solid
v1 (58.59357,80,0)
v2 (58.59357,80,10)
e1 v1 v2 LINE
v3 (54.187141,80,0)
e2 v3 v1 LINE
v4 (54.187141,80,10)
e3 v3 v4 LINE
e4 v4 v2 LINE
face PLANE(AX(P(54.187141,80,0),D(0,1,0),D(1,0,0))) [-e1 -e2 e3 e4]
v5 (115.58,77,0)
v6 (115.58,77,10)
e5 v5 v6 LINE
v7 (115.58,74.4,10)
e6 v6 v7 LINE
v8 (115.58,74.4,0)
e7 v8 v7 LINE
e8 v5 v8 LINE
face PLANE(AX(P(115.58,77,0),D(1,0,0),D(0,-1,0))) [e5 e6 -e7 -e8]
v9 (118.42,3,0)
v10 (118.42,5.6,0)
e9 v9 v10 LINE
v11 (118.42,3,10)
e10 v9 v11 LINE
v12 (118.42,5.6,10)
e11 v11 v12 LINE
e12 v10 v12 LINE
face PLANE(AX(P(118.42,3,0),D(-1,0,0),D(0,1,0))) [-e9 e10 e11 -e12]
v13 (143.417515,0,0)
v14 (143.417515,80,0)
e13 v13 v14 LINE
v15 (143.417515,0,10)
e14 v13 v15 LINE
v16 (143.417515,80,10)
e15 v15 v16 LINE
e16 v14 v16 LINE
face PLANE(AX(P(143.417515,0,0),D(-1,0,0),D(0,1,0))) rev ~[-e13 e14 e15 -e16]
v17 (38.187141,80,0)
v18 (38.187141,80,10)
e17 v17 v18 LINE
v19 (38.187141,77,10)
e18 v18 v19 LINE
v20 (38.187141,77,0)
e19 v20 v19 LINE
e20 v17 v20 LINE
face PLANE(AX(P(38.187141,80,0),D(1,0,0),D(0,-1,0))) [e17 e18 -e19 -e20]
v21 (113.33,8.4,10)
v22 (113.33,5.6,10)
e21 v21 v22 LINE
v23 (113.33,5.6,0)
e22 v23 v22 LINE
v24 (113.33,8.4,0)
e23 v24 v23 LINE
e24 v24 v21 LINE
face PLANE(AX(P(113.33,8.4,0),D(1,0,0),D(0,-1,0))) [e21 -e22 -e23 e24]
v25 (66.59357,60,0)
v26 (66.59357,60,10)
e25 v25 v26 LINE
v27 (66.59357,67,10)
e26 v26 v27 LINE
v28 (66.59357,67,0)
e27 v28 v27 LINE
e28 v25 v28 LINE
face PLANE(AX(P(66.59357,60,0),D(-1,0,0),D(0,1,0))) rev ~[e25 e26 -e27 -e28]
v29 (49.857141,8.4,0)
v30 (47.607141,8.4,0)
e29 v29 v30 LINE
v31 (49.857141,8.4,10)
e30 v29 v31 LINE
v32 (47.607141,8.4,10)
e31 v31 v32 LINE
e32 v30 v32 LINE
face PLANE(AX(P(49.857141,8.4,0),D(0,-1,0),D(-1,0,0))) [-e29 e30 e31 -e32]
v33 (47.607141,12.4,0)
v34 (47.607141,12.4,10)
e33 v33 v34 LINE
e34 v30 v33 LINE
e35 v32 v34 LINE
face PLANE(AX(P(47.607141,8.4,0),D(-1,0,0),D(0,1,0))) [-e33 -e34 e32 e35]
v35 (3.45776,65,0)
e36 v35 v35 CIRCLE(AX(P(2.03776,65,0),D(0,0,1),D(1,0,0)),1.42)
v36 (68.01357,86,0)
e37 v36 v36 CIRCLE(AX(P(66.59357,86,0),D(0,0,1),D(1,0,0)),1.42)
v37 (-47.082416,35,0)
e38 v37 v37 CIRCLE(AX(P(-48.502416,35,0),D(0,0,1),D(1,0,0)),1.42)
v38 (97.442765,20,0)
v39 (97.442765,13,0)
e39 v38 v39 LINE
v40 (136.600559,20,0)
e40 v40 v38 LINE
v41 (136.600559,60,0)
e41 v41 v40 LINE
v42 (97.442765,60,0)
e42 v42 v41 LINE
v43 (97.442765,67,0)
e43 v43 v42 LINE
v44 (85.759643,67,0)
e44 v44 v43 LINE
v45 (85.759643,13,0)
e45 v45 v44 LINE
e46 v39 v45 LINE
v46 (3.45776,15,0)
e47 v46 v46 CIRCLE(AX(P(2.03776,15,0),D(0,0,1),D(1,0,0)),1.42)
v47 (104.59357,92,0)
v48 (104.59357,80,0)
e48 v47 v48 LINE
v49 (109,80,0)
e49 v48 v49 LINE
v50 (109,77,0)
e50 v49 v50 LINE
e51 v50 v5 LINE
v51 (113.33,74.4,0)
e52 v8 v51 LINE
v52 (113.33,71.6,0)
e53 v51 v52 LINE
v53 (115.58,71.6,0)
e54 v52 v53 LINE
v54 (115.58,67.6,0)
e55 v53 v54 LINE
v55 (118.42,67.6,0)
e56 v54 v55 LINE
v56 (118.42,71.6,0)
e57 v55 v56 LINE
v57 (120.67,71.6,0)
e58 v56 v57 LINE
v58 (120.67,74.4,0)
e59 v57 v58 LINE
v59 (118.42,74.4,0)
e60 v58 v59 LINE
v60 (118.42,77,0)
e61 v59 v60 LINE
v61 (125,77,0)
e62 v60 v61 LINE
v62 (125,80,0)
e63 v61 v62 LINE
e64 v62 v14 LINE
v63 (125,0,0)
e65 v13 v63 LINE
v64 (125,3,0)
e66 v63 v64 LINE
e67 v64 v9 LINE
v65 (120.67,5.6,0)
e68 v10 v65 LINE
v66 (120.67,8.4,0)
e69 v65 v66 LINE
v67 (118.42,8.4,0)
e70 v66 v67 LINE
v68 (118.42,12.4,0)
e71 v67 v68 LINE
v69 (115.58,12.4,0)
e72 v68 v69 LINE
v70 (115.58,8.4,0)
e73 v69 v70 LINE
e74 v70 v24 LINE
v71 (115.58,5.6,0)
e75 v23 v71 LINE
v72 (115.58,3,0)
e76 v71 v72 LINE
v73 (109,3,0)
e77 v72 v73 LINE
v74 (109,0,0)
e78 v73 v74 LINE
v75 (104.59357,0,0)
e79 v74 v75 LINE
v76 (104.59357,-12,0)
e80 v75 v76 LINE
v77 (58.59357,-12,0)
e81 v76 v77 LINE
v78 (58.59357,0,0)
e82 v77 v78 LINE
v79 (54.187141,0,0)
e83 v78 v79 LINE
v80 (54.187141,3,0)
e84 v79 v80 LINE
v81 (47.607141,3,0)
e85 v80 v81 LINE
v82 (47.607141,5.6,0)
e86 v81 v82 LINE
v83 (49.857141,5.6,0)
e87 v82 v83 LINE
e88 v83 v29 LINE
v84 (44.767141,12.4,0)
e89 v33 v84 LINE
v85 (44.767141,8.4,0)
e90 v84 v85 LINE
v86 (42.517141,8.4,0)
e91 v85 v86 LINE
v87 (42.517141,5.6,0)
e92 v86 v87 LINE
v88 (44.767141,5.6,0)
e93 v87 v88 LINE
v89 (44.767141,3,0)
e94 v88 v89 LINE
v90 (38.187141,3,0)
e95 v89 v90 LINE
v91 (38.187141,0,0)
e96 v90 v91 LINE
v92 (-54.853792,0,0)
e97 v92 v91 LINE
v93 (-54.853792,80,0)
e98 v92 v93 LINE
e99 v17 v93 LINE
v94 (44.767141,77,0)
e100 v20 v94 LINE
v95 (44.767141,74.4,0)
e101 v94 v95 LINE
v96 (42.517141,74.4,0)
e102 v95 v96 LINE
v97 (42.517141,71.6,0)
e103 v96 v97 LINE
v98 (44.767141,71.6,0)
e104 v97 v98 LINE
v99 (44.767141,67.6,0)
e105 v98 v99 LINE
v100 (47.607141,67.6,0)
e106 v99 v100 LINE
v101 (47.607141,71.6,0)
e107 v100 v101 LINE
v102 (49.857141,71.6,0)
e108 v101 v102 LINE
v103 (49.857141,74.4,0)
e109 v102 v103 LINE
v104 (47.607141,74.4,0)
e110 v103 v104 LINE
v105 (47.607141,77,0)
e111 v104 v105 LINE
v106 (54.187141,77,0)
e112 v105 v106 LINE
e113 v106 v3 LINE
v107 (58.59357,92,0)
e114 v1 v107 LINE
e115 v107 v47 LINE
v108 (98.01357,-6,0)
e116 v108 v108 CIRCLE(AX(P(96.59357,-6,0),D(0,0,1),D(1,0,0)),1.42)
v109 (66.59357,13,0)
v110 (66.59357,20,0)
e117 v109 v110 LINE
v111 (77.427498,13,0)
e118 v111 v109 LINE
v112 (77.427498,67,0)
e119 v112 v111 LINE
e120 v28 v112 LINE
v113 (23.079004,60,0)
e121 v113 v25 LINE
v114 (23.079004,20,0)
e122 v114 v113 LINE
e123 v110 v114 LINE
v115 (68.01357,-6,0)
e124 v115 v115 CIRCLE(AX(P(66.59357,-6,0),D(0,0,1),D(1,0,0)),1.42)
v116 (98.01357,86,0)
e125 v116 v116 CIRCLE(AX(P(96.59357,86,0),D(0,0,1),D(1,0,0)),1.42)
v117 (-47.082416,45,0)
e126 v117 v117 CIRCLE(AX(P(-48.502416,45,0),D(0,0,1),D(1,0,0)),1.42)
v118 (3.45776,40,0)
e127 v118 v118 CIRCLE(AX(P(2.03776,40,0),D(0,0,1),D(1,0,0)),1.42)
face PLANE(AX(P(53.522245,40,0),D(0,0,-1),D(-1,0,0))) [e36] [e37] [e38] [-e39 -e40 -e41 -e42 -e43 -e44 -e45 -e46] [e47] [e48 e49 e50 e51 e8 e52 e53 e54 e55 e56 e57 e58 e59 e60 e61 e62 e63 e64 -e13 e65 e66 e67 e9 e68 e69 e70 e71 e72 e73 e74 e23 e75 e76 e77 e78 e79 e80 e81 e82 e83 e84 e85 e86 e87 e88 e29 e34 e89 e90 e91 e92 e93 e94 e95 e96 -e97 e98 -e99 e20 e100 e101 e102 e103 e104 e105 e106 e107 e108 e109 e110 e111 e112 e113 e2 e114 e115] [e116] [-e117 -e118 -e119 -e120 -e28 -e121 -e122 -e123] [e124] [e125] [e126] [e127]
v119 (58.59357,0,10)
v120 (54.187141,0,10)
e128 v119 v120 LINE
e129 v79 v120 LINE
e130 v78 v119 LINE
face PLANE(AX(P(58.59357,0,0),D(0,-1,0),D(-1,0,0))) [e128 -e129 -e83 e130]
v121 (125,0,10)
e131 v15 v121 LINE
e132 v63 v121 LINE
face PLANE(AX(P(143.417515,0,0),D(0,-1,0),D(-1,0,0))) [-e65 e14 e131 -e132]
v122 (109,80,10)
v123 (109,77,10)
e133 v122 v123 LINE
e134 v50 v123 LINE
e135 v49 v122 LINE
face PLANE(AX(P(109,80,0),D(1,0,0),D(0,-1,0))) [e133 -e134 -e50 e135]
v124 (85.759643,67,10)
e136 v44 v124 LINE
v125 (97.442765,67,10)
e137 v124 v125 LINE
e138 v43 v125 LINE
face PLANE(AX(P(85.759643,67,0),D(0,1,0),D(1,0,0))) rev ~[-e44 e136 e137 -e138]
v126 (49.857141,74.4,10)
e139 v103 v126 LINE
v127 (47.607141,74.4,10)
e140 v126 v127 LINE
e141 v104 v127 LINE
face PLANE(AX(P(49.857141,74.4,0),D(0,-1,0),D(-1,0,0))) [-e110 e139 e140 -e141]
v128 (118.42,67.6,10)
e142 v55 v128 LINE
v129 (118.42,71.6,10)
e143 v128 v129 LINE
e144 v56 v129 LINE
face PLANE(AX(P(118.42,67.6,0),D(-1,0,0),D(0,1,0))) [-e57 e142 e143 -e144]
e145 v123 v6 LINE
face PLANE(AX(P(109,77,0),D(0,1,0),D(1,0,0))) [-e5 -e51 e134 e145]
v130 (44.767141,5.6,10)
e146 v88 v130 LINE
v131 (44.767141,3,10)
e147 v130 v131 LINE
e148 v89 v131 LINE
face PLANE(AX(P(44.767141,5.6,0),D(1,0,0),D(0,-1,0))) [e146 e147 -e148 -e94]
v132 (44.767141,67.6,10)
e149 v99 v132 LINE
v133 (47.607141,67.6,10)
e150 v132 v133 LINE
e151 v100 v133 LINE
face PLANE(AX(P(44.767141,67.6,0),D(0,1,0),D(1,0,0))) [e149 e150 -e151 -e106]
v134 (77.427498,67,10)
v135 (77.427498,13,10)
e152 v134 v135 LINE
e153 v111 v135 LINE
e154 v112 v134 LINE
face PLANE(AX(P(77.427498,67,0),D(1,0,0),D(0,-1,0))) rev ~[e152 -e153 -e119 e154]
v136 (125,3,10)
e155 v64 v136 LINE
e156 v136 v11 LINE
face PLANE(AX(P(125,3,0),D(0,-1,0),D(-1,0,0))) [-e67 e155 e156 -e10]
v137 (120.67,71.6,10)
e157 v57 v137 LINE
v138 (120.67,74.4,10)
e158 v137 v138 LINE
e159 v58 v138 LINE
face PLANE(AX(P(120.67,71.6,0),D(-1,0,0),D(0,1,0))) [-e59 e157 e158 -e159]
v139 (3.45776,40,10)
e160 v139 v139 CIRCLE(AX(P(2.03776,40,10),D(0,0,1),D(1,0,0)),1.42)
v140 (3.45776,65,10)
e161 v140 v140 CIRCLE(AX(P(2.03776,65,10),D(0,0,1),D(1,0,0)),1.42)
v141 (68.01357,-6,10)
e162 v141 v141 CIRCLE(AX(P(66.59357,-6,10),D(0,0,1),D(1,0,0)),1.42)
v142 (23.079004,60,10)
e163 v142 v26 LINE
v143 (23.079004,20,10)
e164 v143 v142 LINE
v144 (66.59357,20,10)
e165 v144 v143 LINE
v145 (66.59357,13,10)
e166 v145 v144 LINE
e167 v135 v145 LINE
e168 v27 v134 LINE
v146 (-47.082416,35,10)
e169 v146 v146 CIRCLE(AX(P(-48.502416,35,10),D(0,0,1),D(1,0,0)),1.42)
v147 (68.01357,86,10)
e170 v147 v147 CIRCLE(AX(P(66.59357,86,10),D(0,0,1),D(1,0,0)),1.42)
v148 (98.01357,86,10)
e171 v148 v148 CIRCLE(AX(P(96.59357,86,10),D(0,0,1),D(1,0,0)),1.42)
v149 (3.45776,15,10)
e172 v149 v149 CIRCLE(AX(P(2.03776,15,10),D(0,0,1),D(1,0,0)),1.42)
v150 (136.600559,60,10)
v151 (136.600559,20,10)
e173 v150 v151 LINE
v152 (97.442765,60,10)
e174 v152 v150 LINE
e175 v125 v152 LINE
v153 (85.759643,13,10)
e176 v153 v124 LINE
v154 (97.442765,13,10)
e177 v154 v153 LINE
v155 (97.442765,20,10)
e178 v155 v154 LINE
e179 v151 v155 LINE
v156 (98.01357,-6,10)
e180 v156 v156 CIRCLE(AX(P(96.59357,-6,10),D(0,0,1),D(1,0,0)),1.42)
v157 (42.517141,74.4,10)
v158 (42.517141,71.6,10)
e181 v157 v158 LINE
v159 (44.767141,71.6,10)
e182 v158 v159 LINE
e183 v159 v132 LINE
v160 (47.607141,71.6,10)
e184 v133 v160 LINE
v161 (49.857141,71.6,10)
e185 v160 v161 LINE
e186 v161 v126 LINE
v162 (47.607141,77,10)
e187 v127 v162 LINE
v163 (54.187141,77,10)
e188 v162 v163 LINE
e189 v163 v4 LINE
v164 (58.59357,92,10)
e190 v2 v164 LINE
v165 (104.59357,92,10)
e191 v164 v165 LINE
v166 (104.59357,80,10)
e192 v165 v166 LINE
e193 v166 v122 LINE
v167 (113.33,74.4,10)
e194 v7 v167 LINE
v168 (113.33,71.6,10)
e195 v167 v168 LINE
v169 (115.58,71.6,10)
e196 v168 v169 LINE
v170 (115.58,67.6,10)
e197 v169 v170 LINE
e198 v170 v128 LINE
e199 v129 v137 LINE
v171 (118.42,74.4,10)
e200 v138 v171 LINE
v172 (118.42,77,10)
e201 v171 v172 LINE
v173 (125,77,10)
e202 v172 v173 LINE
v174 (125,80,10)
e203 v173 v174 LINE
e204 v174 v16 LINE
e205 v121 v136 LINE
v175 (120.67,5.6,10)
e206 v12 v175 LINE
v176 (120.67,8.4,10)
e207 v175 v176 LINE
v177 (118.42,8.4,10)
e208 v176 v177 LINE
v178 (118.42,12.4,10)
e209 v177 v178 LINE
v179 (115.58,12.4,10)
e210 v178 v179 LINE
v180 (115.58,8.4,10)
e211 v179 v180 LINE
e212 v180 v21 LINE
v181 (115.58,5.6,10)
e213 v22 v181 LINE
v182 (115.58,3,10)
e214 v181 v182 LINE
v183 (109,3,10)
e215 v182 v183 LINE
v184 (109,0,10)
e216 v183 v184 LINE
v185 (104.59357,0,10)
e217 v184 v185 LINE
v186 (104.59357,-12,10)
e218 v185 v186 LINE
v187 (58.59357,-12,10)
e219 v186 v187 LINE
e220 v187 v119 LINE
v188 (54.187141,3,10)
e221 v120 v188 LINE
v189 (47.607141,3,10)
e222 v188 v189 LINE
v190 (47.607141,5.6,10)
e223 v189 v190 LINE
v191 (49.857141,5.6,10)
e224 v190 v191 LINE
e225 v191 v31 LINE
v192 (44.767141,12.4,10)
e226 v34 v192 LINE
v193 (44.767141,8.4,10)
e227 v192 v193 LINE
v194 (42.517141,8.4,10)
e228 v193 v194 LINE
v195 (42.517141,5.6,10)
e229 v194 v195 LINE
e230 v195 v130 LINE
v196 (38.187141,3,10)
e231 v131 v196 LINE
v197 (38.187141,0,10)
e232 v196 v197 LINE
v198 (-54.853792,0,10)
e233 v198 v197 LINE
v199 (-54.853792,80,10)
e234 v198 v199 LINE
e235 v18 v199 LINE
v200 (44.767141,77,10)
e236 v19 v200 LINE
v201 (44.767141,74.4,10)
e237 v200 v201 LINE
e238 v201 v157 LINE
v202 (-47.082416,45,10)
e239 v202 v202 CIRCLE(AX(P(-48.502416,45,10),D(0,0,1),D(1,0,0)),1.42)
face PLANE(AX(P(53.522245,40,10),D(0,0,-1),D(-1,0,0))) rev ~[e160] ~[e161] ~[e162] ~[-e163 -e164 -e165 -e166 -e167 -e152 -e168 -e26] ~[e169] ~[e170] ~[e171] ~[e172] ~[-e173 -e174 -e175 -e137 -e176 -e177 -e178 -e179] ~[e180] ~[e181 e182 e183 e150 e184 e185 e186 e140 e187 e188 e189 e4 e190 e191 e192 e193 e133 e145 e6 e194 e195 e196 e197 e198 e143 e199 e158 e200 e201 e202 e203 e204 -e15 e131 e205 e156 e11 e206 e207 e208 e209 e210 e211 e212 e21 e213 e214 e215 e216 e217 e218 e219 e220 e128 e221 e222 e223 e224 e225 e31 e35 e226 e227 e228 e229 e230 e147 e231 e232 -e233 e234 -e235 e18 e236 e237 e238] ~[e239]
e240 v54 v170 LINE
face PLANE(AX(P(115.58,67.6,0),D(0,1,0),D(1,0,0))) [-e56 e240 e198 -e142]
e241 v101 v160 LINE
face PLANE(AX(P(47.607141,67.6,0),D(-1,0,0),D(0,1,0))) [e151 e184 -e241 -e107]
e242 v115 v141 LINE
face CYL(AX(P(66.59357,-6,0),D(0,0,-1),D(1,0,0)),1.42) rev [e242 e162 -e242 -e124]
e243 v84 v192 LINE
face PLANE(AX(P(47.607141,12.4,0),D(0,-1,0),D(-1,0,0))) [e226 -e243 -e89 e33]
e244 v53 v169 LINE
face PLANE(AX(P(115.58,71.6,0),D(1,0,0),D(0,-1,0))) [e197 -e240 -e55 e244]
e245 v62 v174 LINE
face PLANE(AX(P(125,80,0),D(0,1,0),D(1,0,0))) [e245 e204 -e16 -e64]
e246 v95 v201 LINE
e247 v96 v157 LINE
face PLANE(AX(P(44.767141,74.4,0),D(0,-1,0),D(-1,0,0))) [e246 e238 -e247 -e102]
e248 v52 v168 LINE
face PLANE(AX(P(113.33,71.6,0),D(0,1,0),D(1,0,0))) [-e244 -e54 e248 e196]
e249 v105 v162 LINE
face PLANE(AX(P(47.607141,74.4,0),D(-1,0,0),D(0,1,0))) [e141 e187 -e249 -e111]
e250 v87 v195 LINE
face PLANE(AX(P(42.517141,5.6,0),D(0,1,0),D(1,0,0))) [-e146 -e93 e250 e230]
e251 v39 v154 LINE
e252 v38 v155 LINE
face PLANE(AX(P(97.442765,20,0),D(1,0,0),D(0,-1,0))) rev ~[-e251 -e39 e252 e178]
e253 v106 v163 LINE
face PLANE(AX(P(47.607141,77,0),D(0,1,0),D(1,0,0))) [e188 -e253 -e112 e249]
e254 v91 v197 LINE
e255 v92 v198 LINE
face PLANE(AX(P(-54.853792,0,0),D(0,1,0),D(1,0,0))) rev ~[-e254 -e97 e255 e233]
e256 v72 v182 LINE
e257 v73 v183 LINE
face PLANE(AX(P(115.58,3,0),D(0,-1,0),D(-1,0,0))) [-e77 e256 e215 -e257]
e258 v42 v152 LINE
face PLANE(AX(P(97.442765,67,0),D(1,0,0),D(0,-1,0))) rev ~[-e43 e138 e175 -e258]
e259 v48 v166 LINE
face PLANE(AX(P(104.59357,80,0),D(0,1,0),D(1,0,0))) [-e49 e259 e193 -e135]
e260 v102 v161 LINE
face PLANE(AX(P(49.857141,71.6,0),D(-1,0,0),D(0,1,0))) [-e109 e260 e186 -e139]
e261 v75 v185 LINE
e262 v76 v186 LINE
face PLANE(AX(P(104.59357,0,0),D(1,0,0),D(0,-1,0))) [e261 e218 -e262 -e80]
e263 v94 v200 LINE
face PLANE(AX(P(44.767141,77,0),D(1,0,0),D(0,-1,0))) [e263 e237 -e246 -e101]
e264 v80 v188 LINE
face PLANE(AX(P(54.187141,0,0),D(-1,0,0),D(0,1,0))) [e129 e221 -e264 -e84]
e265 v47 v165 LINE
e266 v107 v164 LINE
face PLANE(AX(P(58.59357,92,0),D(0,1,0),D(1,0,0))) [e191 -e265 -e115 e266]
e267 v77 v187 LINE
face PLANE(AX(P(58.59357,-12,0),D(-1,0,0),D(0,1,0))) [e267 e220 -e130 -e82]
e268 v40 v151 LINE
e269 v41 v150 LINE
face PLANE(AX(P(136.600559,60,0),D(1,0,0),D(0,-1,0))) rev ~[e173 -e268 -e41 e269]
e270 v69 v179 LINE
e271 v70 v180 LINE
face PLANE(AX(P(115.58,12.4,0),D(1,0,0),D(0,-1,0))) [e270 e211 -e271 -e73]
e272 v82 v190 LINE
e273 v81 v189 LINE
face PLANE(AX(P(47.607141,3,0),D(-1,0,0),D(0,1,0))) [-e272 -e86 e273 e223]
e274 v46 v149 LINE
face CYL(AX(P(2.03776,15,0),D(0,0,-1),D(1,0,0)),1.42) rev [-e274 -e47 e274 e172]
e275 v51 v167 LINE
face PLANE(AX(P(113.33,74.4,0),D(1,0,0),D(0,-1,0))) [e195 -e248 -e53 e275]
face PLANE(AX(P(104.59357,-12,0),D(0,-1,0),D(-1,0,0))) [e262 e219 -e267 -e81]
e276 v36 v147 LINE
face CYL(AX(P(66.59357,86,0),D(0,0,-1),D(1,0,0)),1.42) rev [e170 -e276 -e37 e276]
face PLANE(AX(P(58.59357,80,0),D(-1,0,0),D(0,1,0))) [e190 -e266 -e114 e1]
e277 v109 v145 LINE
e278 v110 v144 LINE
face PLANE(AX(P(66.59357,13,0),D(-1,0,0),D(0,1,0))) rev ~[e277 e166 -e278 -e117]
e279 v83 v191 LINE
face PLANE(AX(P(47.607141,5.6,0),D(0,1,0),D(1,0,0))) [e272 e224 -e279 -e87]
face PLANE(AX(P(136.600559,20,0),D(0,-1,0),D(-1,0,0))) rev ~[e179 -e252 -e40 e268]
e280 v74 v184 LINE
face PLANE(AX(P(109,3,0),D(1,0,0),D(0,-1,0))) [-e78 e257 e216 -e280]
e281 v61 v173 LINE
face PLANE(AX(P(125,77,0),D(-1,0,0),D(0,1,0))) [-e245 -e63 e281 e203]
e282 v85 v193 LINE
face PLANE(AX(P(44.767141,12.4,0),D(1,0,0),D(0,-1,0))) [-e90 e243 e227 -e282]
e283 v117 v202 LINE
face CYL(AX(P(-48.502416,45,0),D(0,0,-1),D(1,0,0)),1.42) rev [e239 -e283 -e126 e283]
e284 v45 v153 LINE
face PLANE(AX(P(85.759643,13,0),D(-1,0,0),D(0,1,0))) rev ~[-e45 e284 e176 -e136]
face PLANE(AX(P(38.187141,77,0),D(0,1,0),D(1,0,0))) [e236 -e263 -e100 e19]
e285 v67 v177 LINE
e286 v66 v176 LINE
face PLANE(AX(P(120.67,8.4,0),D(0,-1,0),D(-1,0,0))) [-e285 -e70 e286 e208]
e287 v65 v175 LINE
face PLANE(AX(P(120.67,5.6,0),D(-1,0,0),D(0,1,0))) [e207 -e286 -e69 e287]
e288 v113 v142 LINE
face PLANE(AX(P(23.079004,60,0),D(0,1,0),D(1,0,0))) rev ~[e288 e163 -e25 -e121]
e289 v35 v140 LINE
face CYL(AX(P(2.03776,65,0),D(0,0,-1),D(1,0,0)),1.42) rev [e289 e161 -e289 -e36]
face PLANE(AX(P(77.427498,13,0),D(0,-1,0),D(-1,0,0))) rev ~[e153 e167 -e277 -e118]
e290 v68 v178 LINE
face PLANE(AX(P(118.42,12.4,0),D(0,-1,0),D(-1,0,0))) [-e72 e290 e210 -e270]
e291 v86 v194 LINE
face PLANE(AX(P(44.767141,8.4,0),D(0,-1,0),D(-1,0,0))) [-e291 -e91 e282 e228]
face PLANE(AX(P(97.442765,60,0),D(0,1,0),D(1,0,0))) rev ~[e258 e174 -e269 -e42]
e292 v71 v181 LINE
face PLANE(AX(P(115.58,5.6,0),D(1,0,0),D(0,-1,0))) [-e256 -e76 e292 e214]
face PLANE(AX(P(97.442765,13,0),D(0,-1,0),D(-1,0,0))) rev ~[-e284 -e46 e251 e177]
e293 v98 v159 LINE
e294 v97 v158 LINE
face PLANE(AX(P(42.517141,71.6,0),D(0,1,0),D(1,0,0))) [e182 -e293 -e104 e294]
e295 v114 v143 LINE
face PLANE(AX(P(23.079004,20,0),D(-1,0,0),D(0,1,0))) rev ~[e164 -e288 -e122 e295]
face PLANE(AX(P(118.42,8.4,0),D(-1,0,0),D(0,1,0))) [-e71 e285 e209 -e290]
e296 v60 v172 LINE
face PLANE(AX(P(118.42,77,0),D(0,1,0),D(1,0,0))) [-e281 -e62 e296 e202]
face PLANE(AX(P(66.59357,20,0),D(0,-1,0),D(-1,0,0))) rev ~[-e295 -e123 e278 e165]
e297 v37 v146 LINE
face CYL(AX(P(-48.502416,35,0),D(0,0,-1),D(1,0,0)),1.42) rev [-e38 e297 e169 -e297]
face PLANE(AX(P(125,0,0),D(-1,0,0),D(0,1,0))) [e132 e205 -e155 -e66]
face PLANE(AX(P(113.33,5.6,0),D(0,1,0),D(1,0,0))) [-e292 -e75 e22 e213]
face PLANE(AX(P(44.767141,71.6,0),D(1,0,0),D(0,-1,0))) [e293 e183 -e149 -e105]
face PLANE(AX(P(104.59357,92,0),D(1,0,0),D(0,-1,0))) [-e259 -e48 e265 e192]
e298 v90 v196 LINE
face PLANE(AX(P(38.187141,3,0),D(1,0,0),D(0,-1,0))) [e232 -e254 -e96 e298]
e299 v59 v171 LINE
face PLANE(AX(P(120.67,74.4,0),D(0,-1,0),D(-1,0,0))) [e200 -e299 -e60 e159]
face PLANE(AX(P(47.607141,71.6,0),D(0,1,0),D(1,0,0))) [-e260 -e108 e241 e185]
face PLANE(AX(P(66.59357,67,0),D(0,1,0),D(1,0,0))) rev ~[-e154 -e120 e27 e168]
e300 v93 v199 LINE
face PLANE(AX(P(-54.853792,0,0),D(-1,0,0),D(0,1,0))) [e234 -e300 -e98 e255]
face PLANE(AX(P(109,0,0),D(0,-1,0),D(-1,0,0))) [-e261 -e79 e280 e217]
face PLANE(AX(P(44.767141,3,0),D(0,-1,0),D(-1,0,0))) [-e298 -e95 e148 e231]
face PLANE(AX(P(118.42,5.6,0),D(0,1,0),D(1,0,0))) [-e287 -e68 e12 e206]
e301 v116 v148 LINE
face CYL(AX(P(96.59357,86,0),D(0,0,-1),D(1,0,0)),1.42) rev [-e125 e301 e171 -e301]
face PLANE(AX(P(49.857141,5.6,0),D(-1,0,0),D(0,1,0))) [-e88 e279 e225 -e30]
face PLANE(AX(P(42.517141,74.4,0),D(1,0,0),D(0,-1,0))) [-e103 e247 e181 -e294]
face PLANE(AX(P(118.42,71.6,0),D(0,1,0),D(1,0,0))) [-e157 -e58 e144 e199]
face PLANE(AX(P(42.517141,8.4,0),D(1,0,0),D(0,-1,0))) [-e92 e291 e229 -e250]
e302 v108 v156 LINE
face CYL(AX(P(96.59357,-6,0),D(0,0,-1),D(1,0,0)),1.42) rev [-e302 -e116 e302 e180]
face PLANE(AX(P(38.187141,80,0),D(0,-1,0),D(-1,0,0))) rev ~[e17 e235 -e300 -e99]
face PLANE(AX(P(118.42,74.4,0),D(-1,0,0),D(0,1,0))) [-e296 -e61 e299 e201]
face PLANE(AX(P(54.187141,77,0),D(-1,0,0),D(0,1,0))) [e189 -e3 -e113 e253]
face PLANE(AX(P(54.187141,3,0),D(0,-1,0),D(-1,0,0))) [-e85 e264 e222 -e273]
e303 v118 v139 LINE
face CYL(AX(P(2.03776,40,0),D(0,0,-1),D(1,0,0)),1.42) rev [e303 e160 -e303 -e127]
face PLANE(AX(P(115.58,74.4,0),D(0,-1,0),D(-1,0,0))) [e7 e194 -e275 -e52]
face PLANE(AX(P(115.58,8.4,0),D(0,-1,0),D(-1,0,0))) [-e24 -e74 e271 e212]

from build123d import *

# Parameters (mm, degrees)
SKETCH1_R           = 1.42
BOSS_EXTRUDE1_DEPTH = 10


with BuildPart() as part:
    # Sketch1 → Boss-Extrude1 (new body)
    with BuildSketch(Plane.XY):
        Polygon((109, 80), (109, 77), (115.58, 77), (115.58, 74.4), (113.33, 74.4), (113.33, 71.6), (115.58, 71.6), (115.58, 67.6), (118.42, 67.6), (118.42, 71.6), (120.67, 71.6), (120.67, 74.4), (118.42, 74.4), (118.42, 77), (125, 77), (125, 80), (143.417515172, 80), (143.417515172, 60), (143.417515172, 20), (143.417515172, 0), (125, 0), (125, 3), (118.42, 3), (118.42, 5.6), (120.67, 5.6), (120.67, 8.4), (118.42, 8.4), (118.42, 12.4), (115.58, 12.4), (115.58, 8.4), (113.33, 8.4), (113.33, 5.6), (115.58, 5.6), (115.58, 3), (109, 3), (109, 0), (104.593570259, 0), (104.593570259, -12), (58.593570259, -12), (58.593570259, 0), (54.187140517, 0), (54.187140517, 3), (47.607140517, 3), (47.607140517, 5.6), (49.857140517, 5.6), (49.857140517, 8.4), (47.607140517, 8.4), (47.607140517, 12.4), (44.767140517, 12.4), (44.767140517, 8.4), (42.517140517, 8.4), (42.517140517, 5.6), (44.767140517, 5.6), (44.767140517, 3), (38.187140517, 3), (38.187140517, 0), (0, 0), (-15.602079829, 0), (-54.853791786, 0), (-54.853791786, 80), (-15.602079829, 80), (5, 80), (38.187140517, 80), (38.187140517, 77), (44.767140517, 77), (44.767140517, 74.4), (42.517140517, 74.4), (42.517140517, 71.6), (44.767140517, 71.6), (44.767140517, 67.6), (47.607140517, 67.6), (47.607140517, 71.6), (49.857140517, 71.6), (49.857140517, 74.4), (47.607140517, 74.4), (47.607140517, 77), (54.187140517, 77), (54.187140517, 80), (58.593570259, 80), (58.593570259, 92), (104.593570259, 92), (104.593570259, 80), align=None)
        with Locations((2.037759908, 40)):
            Circle(SKETCH1_R, mode=Mode.SUBTRACT)
        with Locations((2.037759908, 65)):
            Circle(SKETCH1_R, mode=Mode.SUBTRACT)
        with Locations((2.037759908, 15)):
            Circle(SKETCH1_R, mode=Mode.SUBTRACT)
        with Locations((66.593570259, 86)):
            Circle(SKETCH1_R, mode=Mode.SUBTRACT)
        with Locations((96.593570259, 86)):
            Circle(SKETCH1_R, mode=Mode.SUBTRACT)
        with Locations((96.593570259, -6)):
            Circle(SKETCH1_R, mode=Mode.SUBTRACT)
        with Locations((66.593570259, -6)):
            Circle(SKETCH1_R, mode=Mode.SUBTRACT)
        with Locations((-48.502415741, 45)):
            Circle(SKETCH1_R, mode=Mode.SUBTRACT)
        with Locations((-48.502415741, 35)):
            Circle(SKETCH1_R, mode=Mode.SUBTRACT)
        Polygon((136.600558962, 60), (136.600558962, 20), (97.442765105, 20), (97.442765105, 13), (85.759642836, 13), (85.759642836, 67), (97.442765105, 67), (97.442765105, 60), align=None, mode=Mode.SUBTRACT)
        Polygon((23.079003763, 60), (66.593570259, 60), (66.593570259, 67), (77.427497681, 67), (77.427497681, 13), (66.593570259, 13), (66.593570259, 20), (23.079003763, 20), align=None, mode=Mode.SUBTRACT)
    extrude(amount=BOSS_EXTRUDE1_DEPTH)


solid = part.part
